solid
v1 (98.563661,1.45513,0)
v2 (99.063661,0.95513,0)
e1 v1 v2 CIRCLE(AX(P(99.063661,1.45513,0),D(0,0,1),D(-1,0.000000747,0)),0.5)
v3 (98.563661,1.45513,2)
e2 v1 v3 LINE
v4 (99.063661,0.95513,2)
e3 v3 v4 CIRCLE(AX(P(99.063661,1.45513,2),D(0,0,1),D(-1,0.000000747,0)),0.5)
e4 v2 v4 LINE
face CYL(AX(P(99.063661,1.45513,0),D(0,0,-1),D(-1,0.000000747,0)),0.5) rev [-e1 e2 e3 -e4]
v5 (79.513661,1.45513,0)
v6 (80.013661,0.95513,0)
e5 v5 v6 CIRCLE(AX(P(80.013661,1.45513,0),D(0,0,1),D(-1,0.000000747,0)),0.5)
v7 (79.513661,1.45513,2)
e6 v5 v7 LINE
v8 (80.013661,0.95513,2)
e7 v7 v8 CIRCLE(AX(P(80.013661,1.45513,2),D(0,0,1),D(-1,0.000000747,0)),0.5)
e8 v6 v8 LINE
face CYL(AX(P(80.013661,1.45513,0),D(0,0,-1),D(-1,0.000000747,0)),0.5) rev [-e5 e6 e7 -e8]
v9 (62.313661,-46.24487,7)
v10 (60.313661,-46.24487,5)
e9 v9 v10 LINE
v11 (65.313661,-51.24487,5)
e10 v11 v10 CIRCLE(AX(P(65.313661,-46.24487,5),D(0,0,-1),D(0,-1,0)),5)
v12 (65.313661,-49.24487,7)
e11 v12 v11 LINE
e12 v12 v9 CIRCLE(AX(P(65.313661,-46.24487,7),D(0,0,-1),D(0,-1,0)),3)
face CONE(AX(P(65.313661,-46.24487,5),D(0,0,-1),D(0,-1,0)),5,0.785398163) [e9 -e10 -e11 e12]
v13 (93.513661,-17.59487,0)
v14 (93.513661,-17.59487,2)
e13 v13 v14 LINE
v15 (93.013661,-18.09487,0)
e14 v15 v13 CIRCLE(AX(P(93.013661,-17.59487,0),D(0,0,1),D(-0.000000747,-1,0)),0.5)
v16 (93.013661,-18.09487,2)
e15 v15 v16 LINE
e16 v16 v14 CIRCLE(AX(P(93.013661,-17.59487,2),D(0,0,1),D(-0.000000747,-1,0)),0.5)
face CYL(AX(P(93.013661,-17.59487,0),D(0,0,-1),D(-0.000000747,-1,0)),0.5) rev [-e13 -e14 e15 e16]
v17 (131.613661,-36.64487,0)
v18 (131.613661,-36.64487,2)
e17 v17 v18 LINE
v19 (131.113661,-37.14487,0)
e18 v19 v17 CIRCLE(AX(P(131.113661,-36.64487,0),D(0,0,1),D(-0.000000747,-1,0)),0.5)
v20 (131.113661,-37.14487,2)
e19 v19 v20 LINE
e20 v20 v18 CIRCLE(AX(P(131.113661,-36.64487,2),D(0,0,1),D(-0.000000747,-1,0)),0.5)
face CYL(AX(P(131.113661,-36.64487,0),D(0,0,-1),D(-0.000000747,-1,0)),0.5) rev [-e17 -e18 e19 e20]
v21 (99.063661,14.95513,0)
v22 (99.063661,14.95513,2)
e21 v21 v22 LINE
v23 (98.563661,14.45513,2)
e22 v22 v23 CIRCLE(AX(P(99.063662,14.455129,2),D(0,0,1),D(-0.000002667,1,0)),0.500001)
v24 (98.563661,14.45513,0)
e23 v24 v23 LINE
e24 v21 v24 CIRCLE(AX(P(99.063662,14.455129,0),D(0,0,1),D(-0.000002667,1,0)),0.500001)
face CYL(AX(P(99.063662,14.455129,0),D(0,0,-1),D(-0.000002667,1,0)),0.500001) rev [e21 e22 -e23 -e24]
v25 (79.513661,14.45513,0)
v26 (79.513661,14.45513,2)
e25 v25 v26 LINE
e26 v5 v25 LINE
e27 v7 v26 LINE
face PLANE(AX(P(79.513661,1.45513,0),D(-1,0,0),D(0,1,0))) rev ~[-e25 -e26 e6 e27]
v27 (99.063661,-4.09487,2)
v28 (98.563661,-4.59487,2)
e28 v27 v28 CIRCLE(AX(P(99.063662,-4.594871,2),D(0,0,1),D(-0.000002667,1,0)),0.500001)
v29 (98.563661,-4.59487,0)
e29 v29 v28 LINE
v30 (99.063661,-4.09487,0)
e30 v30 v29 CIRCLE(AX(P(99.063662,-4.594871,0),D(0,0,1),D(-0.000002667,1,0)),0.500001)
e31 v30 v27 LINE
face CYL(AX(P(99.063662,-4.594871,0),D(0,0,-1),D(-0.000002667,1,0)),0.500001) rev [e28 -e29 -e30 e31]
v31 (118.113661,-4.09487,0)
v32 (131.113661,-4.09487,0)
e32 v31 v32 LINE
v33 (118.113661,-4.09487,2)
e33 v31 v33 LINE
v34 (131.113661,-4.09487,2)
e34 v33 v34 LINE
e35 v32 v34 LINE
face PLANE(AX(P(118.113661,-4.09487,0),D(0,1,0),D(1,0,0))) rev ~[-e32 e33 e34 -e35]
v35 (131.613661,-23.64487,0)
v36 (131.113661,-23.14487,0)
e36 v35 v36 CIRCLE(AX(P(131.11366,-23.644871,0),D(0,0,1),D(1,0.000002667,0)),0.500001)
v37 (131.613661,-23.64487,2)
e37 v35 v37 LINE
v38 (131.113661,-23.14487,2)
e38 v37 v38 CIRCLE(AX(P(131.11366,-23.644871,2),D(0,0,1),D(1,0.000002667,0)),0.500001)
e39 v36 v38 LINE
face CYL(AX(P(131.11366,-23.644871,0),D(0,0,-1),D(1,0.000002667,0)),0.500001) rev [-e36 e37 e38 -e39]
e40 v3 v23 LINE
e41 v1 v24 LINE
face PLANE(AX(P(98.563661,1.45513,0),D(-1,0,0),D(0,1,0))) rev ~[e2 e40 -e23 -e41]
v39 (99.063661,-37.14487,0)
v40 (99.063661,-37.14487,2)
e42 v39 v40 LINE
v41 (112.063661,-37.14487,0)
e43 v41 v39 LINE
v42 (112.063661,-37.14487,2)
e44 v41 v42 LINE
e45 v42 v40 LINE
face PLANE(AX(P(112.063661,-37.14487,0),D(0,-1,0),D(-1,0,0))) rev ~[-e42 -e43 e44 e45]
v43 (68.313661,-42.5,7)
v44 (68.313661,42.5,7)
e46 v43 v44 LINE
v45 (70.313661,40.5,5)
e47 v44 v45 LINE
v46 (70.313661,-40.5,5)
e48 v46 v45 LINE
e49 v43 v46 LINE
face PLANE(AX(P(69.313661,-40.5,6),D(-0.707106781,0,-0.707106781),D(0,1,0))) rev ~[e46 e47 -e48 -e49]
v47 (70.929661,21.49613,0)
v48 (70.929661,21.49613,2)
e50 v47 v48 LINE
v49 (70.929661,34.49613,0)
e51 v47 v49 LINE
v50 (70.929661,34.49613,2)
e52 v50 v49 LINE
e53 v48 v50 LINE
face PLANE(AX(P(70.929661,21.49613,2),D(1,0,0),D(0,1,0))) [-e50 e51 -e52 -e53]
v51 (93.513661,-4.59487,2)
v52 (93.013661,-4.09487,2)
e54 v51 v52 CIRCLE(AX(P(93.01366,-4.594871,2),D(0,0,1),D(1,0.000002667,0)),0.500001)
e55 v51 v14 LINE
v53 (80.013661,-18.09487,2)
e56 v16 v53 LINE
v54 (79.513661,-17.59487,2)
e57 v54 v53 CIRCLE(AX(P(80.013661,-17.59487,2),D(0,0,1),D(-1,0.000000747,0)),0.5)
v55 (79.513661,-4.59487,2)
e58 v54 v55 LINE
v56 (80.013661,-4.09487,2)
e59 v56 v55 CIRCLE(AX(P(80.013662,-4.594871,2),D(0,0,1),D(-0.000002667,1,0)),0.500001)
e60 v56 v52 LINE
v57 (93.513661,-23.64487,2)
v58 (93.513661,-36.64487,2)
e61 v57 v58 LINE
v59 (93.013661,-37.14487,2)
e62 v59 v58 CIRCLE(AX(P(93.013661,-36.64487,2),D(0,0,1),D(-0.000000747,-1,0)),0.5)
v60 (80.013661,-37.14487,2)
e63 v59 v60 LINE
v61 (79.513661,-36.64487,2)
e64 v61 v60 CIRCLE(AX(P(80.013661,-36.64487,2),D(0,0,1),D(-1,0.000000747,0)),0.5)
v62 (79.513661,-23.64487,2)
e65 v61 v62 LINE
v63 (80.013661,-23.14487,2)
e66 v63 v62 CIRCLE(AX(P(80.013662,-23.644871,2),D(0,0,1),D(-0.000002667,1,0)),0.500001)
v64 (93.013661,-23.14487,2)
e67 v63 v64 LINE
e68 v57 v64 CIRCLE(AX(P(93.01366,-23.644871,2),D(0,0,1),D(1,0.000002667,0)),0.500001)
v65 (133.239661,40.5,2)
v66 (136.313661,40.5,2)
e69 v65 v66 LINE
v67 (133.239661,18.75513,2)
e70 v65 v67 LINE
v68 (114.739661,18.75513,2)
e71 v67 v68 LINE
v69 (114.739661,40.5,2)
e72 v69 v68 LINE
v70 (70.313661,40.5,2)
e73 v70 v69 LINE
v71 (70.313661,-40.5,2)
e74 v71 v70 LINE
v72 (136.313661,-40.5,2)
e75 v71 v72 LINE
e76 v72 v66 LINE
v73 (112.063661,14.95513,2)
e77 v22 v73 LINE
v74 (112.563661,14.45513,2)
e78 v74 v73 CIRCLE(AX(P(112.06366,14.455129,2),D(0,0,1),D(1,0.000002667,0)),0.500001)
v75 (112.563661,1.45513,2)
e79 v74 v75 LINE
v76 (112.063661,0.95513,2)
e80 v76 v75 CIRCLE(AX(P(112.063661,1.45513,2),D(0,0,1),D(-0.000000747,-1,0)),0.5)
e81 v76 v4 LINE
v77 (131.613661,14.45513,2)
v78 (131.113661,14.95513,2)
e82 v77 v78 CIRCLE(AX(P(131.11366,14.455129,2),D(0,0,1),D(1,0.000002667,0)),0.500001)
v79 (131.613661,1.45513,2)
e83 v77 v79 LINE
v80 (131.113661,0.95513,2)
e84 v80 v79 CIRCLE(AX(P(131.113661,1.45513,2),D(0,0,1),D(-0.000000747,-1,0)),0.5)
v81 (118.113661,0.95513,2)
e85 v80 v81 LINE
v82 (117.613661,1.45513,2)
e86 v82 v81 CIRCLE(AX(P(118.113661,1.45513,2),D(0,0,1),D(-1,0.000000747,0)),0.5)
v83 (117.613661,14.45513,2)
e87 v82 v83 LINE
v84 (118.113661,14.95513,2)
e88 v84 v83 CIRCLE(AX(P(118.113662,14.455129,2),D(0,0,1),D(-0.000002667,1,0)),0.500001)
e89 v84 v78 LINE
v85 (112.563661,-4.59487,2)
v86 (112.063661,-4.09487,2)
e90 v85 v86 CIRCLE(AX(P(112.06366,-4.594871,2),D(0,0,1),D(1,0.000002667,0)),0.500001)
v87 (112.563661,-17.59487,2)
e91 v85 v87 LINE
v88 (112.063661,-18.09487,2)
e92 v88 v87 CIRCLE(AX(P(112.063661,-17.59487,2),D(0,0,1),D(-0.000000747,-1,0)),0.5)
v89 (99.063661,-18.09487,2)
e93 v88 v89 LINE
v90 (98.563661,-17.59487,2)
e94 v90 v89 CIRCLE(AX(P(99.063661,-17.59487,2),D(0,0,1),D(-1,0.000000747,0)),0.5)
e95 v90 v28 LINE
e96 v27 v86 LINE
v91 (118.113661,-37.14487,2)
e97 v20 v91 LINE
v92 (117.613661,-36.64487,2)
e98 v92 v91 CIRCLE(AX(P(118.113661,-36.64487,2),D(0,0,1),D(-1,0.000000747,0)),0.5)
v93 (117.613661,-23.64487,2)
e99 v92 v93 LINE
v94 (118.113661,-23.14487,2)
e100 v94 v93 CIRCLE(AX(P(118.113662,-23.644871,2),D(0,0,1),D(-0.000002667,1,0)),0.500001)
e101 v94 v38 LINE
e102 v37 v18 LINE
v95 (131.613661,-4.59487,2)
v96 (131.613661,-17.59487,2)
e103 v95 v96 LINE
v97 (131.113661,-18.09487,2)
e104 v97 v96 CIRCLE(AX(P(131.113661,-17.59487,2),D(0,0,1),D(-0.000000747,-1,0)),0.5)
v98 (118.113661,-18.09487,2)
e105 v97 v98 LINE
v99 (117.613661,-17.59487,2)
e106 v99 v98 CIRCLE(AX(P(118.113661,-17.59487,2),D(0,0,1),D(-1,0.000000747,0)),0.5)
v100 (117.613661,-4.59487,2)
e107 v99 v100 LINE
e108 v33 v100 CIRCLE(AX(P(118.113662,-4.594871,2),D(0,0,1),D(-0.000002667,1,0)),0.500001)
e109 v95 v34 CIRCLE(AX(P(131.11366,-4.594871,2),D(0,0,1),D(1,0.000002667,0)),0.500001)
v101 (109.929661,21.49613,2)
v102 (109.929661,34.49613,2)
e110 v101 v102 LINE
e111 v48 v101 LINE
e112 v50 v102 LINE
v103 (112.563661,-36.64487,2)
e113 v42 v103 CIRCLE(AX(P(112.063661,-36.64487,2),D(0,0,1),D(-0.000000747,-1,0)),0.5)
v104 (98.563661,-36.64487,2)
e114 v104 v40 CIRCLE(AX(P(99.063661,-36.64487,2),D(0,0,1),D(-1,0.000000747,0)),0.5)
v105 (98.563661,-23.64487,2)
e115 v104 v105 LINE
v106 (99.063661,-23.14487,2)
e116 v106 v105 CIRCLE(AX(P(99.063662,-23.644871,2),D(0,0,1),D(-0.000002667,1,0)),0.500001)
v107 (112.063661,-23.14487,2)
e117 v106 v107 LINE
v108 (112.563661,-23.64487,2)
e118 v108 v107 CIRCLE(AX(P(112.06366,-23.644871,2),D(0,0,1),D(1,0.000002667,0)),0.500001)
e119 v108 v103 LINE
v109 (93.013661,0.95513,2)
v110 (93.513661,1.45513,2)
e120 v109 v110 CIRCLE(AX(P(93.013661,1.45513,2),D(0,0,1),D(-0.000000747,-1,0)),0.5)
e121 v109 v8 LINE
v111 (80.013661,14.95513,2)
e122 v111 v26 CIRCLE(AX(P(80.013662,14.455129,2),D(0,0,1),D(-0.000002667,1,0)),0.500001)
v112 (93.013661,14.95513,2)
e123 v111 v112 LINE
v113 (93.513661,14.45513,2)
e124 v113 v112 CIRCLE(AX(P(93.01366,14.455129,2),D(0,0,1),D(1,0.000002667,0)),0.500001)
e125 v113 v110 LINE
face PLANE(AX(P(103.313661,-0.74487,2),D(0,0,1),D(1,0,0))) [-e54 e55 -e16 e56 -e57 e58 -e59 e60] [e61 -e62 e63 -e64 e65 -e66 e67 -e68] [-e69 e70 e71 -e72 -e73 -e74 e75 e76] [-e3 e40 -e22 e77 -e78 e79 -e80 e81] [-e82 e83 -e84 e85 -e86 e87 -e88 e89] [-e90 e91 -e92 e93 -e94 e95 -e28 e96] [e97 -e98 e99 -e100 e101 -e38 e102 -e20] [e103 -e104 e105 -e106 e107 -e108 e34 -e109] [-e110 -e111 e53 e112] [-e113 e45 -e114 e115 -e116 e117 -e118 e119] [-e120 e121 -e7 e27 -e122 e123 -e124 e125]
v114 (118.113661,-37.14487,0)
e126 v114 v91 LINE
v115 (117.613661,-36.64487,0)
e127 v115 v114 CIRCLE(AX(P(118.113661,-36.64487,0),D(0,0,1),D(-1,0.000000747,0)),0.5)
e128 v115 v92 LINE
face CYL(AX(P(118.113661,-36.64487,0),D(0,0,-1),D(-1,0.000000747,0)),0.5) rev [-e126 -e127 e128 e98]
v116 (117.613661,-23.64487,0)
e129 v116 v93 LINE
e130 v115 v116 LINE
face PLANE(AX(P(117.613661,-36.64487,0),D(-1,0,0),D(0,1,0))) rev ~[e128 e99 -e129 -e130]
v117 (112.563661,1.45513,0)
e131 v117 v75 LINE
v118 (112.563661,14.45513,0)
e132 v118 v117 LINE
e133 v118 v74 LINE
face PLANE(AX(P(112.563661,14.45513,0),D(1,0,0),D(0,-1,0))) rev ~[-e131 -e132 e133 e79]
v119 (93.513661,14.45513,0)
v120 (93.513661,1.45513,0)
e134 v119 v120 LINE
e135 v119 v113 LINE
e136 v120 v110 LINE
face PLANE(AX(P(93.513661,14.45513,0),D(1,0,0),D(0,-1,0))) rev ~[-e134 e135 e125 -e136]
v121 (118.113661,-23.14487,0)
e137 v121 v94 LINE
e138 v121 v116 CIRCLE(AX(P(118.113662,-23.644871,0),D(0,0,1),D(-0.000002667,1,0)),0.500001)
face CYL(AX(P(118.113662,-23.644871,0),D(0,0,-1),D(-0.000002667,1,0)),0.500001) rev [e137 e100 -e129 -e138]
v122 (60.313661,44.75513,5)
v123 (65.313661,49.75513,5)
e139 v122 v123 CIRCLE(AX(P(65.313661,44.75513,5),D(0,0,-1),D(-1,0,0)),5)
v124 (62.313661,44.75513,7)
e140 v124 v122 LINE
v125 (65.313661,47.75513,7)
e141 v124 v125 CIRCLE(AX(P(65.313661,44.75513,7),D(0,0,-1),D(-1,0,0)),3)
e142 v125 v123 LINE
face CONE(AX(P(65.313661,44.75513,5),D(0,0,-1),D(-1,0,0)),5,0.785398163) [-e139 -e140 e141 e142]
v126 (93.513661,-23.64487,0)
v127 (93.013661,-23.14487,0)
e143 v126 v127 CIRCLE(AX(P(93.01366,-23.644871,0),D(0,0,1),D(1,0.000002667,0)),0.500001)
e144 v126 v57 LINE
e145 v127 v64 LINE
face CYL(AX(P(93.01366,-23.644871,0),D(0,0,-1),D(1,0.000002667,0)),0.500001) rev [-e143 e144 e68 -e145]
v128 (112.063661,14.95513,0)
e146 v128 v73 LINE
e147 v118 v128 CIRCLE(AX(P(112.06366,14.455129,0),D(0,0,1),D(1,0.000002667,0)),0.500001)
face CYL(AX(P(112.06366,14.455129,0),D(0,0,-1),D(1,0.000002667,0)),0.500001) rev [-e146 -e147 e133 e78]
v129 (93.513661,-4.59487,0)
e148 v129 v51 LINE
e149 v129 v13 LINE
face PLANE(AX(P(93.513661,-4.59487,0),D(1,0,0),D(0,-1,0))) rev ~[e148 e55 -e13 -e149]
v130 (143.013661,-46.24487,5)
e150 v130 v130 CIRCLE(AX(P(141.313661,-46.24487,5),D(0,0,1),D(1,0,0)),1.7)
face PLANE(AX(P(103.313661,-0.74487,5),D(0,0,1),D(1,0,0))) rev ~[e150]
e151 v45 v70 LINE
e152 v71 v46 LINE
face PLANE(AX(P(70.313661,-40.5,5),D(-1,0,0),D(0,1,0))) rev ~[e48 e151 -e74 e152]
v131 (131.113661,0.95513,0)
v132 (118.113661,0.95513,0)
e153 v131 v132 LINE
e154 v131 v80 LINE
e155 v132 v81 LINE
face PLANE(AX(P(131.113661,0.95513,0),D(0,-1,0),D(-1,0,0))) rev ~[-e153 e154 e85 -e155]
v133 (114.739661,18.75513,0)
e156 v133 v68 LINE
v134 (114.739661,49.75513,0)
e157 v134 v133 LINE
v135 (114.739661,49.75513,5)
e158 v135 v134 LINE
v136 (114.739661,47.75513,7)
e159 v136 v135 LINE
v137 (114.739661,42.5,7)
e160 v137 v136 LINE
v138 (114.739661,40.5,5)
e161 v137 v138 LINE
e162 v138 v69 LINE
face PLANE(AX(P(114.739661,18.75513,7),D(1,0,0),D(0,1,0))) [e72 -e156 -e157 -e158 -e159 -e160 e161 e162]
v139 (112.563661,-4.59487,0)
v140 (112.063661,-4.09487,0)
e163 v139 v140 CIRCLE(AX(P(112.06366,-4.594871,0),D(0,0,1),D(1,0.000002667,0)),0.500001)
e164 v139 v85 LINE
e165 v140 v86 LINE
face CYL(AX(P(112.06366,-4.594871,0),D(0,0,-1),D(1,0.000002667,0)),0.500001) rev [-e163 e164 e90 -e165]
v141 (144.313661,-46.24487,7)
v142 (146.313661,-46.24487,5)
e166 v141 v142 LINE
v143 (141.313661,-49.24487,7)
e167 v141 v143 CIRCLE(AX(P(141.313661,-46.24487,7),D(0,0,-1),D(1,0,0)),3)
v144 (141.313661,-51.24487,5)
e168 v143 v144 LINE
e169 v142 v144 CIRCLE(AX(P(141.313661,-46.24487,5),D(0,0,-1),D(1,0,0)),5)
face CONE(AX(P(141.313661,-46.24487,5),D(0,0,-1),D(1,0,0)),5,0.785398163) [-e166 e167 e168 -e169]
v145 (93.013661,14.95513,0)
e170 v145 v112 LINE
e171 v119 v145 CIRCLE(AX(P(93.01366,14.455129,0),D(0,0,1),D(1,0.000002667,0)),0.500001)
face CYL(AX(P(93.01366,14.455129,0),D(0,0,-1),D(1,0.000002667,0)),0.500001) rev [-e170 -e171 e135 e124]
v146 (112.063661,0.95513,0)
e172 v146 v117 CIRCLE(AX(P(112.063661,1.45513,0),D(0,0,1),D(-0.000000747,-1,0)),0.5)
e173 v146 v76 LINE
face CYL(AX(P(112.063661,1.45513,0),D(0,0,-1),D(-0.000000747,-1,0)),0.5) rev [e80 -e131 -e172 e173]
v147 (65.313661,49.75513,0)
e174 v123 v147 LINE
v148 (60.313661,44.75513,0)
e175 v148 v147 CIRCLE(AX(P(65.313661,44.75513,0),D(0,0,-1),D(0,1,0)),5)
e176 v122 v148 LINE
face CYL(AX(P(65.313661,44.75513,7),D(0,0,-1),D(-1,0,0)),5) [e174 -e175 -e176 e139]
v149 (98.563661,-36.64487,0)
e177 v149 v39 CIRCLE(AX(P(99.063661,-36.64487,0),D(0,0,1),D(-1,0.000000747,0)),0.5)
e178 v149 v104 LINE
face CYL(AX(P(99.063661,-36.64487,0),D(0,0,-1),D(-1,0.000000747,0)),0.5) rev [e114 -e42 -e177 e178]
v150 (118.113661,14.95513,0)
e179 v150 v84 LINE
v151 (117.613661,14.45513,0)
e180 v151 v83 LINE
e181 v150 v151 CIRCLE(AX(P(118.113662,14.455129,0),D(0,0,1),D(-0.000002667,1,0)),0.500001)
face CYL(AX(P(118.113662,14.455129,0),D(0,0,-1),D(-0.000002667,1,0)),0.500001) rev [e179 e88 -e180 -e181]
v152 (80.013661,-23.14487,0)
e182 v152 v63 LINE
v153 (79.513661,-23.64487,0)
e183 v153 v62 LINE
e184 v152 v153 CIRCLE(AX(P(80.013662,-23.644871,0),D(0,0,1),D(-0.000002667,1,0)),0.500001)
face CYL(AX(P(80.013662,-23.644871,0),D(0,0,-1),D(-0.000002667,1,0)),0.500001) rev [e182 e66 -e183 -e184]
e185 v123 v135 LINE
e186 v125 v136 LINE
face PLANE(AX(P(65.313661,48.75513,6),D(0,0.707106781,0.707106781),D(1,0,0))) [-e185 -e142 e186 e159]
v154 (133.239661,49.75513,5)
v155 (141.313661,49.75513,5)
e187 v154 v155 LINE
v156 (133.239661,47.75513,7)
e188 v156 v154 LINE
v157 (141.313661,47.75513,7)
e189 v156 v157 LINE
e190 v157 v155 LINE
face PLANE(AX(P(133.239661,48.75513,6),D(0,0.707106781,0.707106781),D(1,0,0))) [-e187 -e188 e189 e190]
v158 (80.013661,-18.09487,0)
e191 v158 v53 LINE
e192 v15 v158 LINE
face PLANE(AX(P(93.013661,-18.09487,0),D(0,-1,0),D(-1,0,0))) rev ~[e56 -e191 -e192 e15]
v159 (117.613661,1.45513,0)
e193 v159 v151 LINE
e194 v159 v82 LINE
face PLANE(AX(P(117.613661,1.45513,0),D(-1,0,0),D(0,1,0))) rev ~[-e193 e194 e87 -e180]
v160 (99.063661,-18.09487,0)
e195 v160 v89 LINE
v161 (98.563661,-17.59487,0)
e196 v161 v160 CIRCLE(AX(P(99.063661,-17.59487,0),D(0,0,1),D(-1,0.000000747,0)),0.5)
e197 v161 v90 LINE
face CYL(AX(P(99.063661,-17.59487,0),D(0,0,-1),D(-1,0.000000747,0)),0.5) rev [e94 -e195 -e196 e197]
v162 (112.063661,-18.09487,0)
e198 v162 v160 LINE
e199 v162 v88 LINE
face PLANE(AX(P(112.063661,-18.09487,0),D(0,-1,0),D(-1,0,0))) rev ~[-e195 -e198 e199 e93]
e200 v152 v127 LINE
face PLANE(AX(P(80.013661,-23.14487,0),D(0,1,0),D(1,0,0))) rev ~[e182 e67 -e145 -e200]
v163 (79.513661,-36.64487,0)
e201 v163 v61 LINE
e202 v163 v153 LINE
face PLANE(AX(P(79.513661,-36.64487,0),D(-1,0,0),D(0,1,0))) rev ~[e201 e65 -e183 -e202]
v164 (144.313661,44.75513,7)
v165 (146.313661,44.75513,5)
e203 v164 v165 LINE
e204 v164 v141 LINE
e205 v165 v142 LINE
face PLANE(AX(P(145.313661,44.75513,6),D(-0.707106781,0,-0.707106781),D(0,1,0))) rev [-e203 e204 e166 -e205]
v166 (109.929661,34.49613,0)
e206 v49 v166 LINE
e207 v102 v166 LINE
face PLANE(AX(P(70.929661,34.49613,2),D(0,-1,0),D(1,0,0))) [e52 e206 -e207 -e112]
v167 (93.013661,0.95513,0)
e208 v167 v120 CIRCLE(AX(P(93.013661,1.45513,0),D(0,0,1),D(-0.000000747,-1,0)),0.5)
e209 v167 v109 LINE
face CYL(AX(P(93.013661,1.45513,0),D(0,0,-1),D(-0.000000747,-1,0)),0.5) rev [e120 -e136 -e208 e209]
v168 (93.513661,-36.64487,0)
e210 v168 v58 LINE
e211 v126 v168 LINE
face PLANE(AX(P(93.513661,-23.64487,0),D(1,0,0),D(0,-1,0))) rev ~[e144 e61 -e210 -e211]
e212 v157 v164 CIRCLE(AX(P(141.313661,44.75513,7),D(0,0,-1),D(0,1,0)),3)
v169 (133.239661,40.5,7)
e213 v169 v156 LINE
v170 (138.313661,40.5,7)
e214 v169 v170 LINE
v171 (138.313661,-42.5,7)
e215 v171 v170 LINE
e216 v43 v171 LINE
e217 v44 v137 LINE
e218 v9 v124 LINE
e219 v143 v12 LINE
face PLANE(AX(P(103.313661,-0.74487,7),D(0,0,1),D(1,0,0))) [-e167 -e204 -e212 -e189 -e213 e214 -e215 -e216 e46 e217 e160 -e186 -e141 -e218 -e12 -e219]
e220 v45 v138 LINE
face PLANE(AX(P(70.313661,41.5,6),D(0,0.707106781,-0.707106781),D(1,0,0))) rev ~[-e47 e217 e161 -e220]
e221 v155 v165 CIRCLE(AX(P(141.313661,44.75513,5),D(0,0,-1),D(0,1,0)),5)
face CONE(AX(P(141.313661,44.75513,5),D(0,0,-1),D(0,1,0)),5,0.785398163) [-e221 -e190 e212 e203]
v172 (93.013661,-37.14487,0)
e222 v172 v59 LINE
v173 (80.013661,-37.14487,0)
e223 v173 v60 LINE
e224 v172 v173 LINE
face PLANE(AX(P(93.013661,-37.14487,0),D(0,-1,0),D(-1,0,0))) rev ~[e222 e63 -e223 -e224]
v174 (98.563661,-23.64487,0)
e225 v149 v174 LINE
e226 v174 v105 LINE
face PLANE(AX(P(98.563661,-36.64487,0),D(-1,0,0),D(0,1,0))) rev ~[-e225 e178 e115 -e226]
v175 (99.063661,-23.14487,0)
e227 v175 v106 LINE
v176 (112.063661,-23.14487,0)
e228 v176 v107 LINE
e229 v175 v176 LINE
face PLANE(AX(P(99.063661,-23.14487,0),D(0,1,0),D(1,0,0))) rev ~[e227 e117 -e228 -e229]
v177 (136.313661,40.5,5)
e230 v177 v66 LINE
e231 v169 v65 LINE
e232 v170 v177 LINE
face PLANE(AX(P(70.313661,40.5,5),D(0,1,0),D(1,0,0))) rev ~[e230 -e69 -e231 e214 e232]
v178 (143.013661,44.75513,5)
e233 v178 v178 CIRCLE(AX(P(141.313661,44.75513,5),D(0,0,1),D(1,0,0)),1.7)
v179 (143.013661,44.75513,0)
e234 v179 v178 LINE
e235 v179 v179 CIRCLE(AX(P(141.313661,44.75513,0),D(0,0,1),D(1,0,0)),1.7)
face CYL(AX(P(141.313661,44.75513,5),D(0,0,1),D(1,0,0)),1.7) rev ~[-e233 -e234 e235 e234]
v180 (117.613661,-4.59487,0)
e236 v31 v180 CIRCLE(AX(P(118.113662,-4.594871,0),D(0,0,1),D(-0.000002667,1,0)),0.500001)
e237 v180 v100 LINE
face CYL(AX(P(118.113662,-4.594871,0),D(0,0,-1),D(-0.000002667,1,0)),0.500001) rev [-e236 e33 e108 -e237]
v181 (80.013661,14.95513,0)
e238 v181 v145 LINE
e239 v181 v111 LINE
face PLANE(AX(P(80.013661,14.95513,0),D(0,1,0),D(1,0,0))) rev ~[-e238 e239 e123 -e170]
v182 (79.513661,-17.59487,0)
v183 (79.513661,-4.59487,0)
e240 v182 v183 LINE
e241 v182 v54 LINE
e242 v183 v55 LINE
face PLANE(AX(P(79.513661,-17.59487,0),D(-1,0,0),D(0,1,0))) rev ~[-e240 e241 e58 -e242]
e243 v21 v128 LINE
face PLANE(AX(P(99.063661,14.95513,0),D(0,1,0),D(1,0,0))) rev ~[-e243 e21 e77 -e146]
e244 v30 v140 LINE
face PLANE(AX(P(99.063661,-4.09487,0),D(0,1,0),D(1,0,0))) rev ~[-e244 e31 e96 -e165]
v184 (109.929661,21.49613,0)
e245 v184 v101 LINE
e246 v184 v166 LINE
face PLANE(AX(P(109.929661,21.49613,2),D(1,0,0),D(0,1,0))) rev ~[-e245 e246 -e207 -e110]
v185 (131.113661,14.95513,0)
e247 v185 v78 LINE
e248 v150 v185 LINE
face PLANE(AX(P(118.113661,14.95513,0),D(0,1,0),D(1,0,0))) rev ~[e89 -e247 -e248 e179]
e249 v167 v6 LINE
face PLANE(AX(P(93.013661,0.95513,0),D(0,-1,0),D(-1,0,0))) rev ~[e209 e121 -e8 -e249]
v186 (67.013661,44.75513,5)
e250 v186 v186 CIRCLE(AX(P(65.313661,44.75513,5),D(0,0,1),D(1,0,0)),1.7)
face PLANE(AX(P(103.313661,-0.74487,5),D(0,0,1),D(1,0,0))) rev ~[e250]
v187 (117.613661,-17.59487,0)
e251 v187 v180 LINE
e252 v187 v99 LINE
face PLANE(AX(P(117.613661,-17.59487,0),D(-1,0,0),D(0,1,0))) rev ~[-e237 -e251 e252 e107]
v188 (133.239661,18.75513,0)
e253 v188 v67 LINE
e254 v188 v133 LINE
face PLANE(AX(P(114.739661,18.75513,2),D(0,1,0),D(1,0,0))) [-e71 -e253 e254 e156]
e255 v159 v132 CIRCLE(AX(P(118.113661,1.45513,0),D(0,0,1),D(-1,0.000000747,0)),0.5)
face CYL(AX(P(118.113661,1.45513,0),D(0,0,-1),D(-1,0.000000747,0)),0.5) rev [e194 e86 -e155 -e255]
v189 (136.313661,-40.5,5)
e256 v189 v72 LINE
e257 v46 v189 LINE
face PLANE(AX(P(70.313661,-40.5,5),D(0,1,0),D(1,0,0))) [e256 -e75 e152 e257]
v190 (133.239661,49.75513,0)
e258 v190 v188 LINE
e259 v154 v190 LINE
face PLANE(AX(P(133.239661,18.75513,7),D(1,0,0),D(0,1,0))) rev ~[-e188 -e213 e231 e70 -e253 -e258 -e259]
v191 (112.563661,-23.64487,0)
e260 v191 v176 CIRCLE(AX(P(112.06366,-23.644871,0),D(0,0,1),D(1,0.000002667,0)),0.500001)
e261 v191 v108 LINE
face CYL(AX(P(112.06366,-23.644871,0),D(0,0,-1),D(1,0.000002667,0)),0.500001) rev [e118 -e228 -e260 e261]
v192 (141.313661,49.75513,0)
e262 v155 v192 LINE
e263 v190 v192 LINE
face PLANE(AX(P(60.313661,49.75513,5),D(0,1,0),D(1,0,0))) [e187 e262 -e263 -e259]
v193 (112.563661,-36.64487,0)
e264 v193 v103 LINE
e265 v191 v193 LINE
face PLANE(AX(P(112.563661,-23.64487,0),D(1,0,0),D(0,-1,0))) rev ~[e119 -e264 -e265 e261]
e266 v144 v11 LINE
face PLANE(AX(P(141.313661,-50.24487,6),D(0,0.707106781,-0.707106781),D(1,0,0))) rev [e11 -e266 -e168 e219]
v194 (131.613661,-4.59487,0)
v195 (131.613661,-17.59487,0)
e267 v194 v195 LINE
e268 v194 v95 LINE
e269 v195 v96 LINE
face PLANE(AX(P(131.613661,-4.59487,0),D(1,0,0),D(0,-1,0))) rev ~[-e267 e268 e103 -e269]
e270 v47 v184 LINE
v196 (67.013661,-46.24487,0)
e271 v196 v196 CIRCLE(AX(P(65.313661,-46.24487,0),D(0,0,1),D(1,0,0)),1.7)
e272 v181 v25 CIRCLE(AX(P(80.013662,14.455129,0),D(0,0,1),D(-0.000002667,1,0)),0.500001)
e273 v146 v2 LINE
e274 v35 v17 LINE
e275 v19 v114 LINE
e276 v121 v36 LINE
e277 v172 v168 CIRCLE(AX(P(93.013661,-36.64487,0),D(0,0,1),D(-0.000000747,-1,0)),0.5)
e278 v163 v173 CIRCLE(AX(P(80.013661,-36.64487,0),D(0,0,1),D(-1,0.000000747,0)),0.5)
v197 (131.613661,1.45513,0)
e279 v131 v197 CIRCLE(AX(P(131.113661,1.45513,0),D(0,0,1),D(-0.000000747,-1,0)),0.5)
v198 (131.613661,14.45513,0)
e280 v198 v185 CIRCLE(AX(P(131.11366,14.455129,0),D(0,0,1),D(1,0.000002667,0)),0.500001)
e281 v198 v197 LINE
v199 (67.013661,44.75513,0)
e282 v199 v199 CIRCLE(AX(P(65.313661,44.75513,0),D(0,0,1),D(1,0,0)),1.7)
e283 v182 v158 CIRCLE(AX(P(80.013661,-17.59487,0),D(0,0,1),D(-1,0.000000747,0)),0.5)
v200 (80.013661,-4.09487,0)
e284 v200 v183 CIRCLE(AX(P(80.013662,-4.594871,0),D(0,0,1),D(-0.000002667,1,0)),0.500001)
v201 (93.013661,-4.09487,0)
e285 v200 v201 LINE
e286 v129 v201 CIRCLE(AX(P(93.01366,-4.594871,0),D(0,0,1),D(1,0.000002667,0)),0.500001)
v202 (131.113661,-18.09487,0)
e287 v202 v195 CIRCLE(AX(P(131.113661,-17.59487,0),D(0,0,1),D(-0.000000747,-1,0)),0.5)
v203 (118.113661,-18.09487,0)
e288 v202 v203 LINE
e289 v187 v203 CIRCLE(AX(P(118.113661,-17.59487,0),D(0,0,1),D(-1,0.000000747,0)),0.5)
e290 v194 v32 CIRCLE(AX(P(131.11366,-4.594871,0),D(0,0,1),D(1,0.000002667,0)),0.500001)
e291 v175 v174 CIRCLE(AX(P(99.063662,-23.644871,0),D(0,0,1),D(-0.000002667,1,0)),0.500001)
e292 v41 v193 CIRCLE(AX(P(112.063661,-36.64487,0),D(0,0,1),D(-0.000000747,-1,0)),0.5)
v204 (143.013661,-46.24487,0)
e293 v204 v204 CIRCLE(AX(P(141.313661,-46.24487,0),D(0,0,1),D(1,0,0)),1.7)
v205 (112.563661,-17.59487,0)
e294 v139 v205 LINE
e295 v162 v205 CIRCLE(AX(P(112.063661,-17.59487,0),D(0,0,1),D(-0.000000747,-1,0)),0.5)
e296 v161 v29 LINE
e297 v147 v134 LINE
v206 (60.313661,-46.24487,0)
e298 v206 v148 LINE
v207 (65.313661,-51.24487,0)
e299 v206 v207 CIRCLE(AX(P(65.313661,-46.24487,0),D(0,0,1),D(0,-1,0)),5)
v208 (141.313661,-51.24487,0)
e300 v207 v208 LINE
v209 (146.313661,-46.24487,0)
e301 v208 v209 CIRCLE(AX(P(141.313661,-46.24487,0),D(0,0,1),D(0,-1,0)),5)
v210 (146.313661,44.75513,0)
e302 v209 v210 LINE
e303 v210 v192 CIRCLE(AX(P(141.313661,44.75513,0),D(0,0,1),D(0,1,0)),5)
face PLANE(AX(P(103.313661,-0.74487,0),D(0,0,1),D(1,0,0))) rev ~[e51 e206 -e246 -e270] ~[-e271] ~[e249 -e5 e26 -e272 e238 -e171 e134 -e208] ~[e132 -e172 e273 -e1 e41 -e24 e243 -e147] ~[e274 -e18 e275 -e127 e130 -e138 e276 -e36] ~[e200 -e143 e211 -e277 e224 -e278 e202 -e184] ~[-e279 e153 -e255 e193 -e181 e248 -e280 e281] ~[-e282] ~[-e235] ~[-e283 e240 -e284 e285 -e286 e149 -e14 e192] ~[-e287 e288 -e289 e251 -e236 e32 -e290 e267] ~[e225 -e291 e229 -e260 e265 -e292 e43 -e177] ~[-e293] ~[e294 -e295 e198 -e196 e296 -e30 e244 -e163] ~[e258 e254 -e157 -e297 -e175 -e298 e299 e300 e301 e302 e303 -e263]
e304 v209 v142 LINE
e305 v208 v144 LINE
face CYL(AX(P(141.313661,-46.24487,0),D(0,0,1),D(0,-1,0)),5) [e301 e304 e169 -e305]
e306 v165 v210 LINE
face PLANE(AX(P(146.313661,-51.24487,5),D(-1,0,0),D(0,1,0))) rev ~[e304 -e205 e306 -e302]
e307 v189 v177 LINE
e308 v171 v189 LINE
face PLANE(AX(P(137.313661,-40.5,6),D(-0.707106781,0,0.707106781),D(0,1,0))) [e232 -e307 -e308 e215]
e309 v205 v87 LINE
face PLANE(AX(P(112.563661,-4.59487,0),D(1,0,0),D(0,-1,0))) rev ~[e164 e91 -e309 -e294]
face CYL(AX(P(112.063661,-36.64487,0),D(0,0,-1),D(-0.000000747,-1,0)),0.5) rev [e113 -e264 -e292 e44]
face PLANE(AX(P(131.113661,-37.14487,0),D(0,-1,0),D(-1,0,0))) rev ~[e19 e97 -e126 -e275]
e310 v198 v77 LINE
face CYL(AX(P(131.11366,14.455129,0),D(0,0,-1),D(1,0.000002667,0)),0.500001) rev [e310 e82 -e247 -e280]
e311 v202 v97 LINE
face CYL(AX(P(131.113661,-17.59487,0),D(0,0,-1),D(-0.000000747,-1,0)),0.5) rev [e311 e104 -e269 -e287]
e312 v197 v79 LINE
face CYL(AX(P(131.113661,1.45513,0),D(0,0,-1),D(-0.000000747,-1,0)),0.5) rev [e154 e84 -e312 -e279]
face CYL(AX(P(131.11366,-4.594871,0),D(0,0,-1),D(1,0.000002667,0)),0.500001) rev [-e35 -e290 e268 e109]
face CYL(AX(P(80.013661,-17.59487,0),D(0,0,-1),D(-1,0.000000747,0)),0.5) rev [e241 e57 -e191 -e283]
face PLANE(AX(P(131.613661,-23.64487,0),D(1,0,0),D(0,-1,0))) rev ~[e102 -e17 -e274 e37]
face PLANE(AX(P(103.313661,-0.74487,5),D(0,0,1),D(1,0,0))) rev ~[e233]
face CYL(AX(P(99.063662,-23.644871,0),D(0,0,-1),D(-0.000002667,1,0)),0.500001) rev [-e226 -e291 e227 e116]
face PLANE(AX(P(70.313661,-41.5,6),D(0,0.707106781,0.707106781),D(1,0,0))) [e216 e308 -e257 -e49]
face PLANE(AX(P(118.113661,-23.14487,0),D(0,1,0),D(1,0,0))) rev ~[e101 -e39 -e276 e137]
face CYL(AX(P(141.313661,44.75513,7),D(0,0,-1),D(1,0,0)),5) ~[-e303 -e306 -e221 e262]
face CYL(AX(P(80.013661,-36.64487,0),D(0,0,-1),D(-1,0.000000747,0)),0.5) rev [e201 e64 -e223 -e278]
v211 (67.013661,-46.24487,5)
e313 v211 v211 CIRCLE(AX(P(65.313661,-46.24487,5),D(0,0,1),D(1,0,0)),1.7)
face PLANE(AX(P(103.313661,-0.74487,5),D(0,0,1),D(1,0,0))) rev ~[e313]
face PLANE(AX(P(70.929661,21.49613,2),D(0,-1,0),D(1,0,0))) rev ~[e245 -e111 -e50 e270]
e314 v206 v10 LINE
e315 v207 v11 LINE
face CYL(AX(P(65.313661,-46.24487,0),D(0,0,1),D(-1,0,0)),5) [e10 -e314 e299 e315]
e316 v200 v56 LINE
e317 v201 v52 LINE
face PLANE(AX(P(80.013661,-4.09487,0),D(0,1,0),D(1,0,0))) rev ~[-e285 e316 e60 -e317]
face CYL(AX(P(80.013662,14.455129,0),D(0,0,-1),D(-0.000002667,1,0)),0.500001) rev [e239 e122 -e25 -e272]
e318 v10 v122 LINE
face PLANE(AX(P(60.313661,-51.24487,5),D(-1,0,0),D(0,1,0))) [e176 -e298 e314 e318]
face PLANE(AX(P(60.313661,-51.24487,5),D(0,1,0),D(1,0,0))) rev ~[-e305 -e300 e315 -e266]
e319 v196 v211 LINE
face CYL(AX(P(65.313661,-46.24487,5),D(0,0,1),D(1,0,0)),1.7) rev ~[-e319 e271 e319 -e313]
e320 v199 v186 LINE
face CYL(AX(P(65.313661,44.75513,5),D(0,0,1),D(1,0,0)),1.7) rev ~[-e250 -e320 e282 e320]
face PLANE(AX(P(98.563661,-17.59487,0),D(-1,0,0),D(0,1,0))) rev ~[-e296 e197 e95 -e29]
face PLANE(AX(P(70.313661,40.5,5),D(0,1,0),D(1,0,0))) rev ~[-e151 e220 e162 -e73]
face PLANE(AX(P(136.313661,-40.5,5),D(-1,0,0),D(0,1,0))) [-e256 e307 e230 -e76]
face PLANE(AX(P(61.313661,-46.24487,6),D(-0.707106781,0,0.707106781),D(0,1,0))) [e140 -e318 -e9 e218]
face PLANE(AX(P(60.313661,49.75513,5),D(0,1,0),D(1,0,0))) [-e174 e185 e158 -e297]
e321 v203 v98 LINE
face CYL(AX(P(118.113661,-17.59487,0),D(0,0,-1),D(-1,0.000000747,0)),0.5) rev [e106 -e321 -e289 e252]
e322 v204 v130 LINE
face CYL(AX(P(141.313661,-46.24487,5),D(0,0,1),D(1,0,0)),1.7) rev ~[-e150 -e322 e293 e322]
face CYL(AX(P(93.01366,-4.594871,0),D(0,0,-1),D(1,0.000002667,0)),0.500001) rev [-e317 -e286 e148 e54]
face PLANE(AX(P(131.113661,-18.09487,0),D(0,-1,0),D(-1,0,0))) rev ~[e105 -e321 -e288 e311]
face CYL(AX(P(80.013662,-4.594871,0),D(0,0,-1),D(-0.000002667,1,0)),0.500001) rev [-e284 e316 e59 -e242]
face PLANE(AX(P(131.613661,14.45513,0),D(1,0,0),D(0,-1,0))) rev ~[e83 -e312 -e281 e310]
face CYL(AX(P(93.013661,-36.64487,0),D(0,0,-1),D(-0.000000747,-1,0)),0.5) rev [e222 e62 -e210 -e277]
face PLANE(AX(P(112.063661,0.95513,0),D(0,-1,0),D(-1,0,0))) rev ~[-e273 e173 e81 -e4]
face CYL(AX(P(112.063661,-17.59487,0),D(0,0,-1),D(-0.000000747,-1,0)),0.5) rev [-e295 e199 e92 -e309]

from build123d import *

# Parameters (mm, degrees)
SKETCH006_W     = 86
SKETCH006_H     = 101
SKETCH006_R     = 1.7
PAD002_DEPTH    = 2
SKETCH007_W     = 18.5
SKETCH007_H     = 31
SKETCH007_W_2   = 39
SKETCH007_H_2   = 13
POCKET002_DEPTH = 5
SKETCH008_W     = 86
SKETCH008_H     = 101
SKETCH008_W_2   = 66
SKETCH008_H_2   = 81
PAD003_DEPTH    = 3
SKETCH009_R     = 1.7
POCKET003_DEPTH = 3
SKETCH010_W     = 86
SKETCH010_H     = 101
SKETCH010_W_2   = 66
SKETCH010_H_2   = 81
PAD004_DEPTH    = 2
SKETCH011_W     = 18.5
SKETCH011_H     = 31
POCKET004_DEPTH = 5
FILLET001_R     = 5
CHAMFER_SIZE    = 2
CHAMFER001_SIZE = 2


with BuildPart() as part:
    # Sketch006 → Pad002 (new body)
    with BuildSketch(Plane.XY):
        with Locations((103.313661, -0.74487)):
            Rectangle(SKETCH006_W, SKETCH006_H)
        with Locations((141.313661, 44.75513)):
            Circle(SKETCH006_R, mode=Mode.SUBTRACT)
        with Locations((141.313661, -46.24487)):
            Circle(SKETCH006_R, mode=Mode.SUBTRACT)
        with Locations((65.313661, -46.24487)):
            Circle(SKETCH006_R, mode=Mode.SUBTRACT)
        with Locations((65.313661, 44.75513)):
            Circle(SKETCH006_R, mode=Mode.SUBTRACT)
        with BuildLine():
            Line((93.013661, 0.95513), (80.013661, 0.95513))
            ThreePointArc((79.513661, 1.45513), (79.660108, 1.101576), (80.013661, 0.95513))
            Line((79.513661, 1.45513), (79.513661, 14.45513))
            ThreePointArc((80.013661, 14.95513), (79.660108, 14.808683), (79.513661, 14.45513))
            Line((80.013661, 14.95513), (93.013661, 14.95513))
            ThreePointArc((93.513661, 14.45513), (93.367214, 14.808683), (93.013661, 14.95513))
            Line((93.513661, 14.45513), (93.513661, 1.45513))
            ThreePointArc((93.013661, 0.95513), (93.367214, 1.101576), (93.513661, 1.45513))
        make_face(mode=Mode.SUBTRACT)
        with BuildLine():
            Line((112.063661, 0.95513), (99.063661, 0.95513))
            ThreePointArc((98.563661, 1.45513), (98.710108, 1.101576), (99.063661, 0.95513))
            Line((98.563661, 1.45513), (98.563661, 14.45513))
            ThreePointArc((99.063661, 14.95513), (98.710108, 14.808683), (98.563661, 14.45513))
            Line((99.063661, 14.95513), (112.063661, 14.95513))
            ThreePointArc((112.563661, 14.45513), (112.417214, 14.808683), (112.063661, 14.95513))
            Line((112.563661, 14.45513), (112.563661, 1.45513))
            ThreePointArc((112.063661, 0.95513), (112.417214, 1.101576), (112.563661, 1.45513))
        make_face(mode=Mode.SUBTRACT)
        with BuildLine():
            Line((131.113661, 0.95513), (118.113661, 0.95513))
            ThreePointArc((117.613661, 1.45513), (117.760108, 1.101576), (118.113661, 0.95513))
            Line((117.613661, 1.45513), (117.613661, 14.45513))
            ThreePointArc((118.113661, 14.95513), (117.760108, 14.808683), (117.613661, 14.45513))
            Line((118.113661, 14.95513), (131.113661, 14.95513))
            ThreePointArc((131.613661, 14.45513), (131.467214, 14.808683), (131.113661, 14.95513))
            Line((131.613661, 14.45513), (131.613661, 1.45513))
            ThreePointArc((131.113661, 0.95513), (131.467214, 1.101576), (131.613661, 1.45513))
        make_face(mode=Mode.SUBTRACT)
        with BuildLine():
            Line((93.013661, -18.09487), (80.013661, -18.09487))
            ThreePointArc((79.513661, -17.59487), (79.660108, -17.948424), (80.013661, -18.09487))
            Line((79.513661, -17.59487), (79.513661, -4.59487))
            ThreePointArc((80.013661, -4.09487), (79.660108, -4.241317), (79.513661, -4.59487))
            Line((80.013661, -4.09487), (93.013661, -4.09487))
            ThreePointArc((93.513661, -4.59487), (93.367214, -4.241317), (93.013661, -4.09487))
            Line((93.513661, -4.59487), (93.513661, -17.59487))
            ThreePointArc((93.013661, -18.09487), (93.367214, -17.948424), (93.513661, -17.59487))
        make_face(mode=Mode.SUBTRACT)
        with BuildLine():
            Line((112.063661, -18.09487), (99.063661, -18.09487))
            ThreePointArc((98.563661, -17.59487), (98.710108, -17.948424), (99.063661, -18.09487))
            Line((98.563661, -17.59487), (98.563661, -4.59487))
            ThreePointArc((99.063661, -4.09487), (98.710108, -4.241317), (98.563661, -4.59487))
            Line((99.063661, -4.09487), (112.063661, -4.09487))
            ThreePointArc((112.563661, -4.59487), (112.417214, -4.241317), (112.063661, -4.09487))
            Line((112.563661, -4.59487), (112.563661, -17.59487))
            ThreePointArc((112.063661, -18.09487), (112.417214, -17.948424), (112.563661, -17.59487))
        make_face(mode=Mode.SUBTRACT)
        with BuildLine():
            Line((131.113661, -18.09487), (118.113661, -18.09487))
            ThreePointArc((117.613661, -17.59487), (117.760108, -17.948424), (118.113661, -18.09487))
            Line((117.613661, -17.59487), (117.613661, -4.59487))
            ThreePointArc((118.113661, -4.09487), (117.760108, -4.241317), (117.613661, -4.59487))
            Line((118.113661, -4.09487), (131.113661, -4.09487))
            ThreePointArc((131.613661, -4.59487), (131.467214, -4.241317), (131.113661, -4.09487))
            Line((131.613661, -4.59487), (131.613661, -17.59487))
            ThreePointArc((131.113661, -18.09487), (131.467214, -17.948424), (131.613661, -17.59487))
        make_face(mode=Mode.SUBTRACT)
        with BuildLine():
            Line((93.013661, -37.14487), (80.013661, -37.14487))
            ThreePointArc((79.513661, -36.64487), (79.660108, -36.998424), (80.013661, -37.14487))
            Line((79.513661, -36.64487), (79.513661, -23.64487))
            ThreePointArc((80.013661, -23.14487), (79.660108, -23.291317), (79.513661, -23.64487))
            Line((80.013661, -23.14487), (93.013661, -23.14487))
            ThreePointArc((93.513661, -23.64487), (93.367214, -23.291317), (93.013661, -23.14487))
            Line((93.513661, -23.64487), (93.513661, -36.64487))
            ThreePointArc((93.013661, -37.14487), (93.367214, -36.998424), (93.513661, -36.64487))
        make_face(mode=Mode.SUBTRACT)
        with BuildLine():
            Line((112.063661, -37.14487), (99.063661, -37.14487))
            ThreePointArc((98.563661, -36.64487), (98.710108, -36.998424), (99.063661, -37.14487))
            Line((98.563661, -36.64487), (98.563661, -23.64487))
            ThreePointArc((99.063661, -23.14487), (98.710108, -23.291317), (98.563661, -23.64487))
            Line((99.063661, -23.14487), (112.063661, -23.14487))
            ThreePointArc((112.563661, -23.64487), (112.417214, -23.291317), (112.063661, -23.14487))
            Line((112.563661, -23.64487), (112.563661, -36.64487))
            ThreePointArc((112.063661, -37.14487), (112.417214, -36.998424), (112.563661, -36.64487))
        make_face(mode=Mode.SUBTRACT)
        with BuildLine():
            Line((131.113661, -37.14487), (118.113661, -37.14487))
            ThreePointArc((117.613661, -36.64487), (117.760108, -36.998424), (118.113661, -37.14487))
            Line((117.613661, -36.64487), (117.613661, -23.64487))
            ThreePointArc((118.113661, -23.14487), (117.760108, -23.291317), (117.613661, -23.64487))
            Line((118.113661, -23.14487), (131.113661, -23.14487))
            ThreePointArc((131.613661, -23.64487), (131.467214, -23.291317), (131.113661, -23.14487))
            Line((131.613661, -23.64487), (131.613661, -36.64487))
            ThreePointArc((131.113661, -37.14487), (131.467214, -36.998424), (131.613661, -36.64487))
        make_face(mode=Mode.SUBTRACT)
    extrude(amount=PAD002_DEPTH)

    # Sketch007 → Pocket002 (cut, symmetric)
    with BuildSketch(Plane.XY.offset(2)):
        with Locations((123.989661, 34.25513)):
            Rectangle(SKETCH007_W, SKETCH007_H)
        with Locations((90.429661, 27.99613)):
            Rectangle(SKETCH007_W_2, SKETCH007_H_2)
    extrude(amount=POCKET002_DEPTH, both=True, mode=Mode.SUBTRACT)

    # Sketch008 (on Face5 of Pocket002) → Pad003 (join)
    with BuildSketch(Plane.XY.offset(2)):
        with Locations((103.313661, -0.74487)):
            Rectangle(SKETCH008_W, SKETCH008_H)
        with Locations((103.313661, 0)):
            Rectangle(SKETCH008_W_2, SKETCH008_H_2, mode=Mode.SUBTRACT)
    extrude(amount=PAD003_DEPTH)

    # Sketch009 (on Face92 of Pad003) → Pocket003 (cut)
    with BuildSketch(Plane.XY.offset(5)):
        with Locations((65.313661, 44.75513)):
            Circle(SKETCH009_R)
        with Locations((141.313661, 44.75513)):
            Circle(SKETCH009_R)
        with Locations((141.313661, -46.24487)):
            Circle(SKETCH009_R)
        with Locations((65.313661, -46.24487)):
            Circle(SKETCH009_R)
    extrude(amount=-POCKET003_DEPTH, mode=Mode.SUBTRACT)

    # Sketch010 (on Face85 of Pocket003) → Pad004 (join)
    with BuildSketch(Plane.XY.offset(5)):
        with Locations((103.313661, -0.74487)):
            Rectangle(SKETCH010_W, SKETCH010_H)
        with Locations((103.313661, 0)):
            Rectangle(SKETCH010_W_2, SKETCH010_H_2, mode=Mode.SUBTRACT)
    extrude(amount=PAD004_DEPTH)

    # Sketch011 (on Face92 of Pad004) → Pocket004 (cut)
    with BuildSketch(Plane.XY.offset(7)):
        with Locations((123.989661, 34.25513)):
            Rectangle(SKETCH011_W, SKETCH011_H)
    extrude(amount=-POCKET004_DEPTH, mode=Mode.SUBTRACT)

    # Fillet001
    fillet001_edges = [part.edges().sort_by_distance(p)[0] for p in [
        (146.313661, -51.24487, 3.5),
        (60.313661, -51.24487, 3.5),
        (146.313661, 49.75513, 3.5),
        (60.313661, 49.75513, 3.5),
    ]]
    fillet(fillet001_edges, radius=FILLET001_R)

    # Chamfer
    chamfer_edges = [part.edges().sort_by_distance(p)[0] for p in [
        (103.313661, -40.5, 7),
        (136.313661, 0, 7),
        (70.313661, 0, 7),
        (92.526661, 40.5, 7),
    ]]
    chamfer(chamfer_edges, length=CHAMFER_SIZE)

    # Chamfer001
    chamfer001_edges = [part.edges().sort_by_distance(p)[0] for p in [
        (60.313661, -0.74487, 7),
        (103.313661, -51.24487, 7),
        (61.778127, -49.780404, 7),
        (144.849195, -49.780404, 7),
        (146.313661, -0.74487, 7),
        (144.849195, 48.290663, 7),
        (137.276661, 49.75513, 7),
        (61.778127, 48.290663, 7),
        (90.026661, 49.75513, 7),
    ]]
    chamfer(chamfer001_edges, length=CHAMFER001_SIZE)


solid = part.part
